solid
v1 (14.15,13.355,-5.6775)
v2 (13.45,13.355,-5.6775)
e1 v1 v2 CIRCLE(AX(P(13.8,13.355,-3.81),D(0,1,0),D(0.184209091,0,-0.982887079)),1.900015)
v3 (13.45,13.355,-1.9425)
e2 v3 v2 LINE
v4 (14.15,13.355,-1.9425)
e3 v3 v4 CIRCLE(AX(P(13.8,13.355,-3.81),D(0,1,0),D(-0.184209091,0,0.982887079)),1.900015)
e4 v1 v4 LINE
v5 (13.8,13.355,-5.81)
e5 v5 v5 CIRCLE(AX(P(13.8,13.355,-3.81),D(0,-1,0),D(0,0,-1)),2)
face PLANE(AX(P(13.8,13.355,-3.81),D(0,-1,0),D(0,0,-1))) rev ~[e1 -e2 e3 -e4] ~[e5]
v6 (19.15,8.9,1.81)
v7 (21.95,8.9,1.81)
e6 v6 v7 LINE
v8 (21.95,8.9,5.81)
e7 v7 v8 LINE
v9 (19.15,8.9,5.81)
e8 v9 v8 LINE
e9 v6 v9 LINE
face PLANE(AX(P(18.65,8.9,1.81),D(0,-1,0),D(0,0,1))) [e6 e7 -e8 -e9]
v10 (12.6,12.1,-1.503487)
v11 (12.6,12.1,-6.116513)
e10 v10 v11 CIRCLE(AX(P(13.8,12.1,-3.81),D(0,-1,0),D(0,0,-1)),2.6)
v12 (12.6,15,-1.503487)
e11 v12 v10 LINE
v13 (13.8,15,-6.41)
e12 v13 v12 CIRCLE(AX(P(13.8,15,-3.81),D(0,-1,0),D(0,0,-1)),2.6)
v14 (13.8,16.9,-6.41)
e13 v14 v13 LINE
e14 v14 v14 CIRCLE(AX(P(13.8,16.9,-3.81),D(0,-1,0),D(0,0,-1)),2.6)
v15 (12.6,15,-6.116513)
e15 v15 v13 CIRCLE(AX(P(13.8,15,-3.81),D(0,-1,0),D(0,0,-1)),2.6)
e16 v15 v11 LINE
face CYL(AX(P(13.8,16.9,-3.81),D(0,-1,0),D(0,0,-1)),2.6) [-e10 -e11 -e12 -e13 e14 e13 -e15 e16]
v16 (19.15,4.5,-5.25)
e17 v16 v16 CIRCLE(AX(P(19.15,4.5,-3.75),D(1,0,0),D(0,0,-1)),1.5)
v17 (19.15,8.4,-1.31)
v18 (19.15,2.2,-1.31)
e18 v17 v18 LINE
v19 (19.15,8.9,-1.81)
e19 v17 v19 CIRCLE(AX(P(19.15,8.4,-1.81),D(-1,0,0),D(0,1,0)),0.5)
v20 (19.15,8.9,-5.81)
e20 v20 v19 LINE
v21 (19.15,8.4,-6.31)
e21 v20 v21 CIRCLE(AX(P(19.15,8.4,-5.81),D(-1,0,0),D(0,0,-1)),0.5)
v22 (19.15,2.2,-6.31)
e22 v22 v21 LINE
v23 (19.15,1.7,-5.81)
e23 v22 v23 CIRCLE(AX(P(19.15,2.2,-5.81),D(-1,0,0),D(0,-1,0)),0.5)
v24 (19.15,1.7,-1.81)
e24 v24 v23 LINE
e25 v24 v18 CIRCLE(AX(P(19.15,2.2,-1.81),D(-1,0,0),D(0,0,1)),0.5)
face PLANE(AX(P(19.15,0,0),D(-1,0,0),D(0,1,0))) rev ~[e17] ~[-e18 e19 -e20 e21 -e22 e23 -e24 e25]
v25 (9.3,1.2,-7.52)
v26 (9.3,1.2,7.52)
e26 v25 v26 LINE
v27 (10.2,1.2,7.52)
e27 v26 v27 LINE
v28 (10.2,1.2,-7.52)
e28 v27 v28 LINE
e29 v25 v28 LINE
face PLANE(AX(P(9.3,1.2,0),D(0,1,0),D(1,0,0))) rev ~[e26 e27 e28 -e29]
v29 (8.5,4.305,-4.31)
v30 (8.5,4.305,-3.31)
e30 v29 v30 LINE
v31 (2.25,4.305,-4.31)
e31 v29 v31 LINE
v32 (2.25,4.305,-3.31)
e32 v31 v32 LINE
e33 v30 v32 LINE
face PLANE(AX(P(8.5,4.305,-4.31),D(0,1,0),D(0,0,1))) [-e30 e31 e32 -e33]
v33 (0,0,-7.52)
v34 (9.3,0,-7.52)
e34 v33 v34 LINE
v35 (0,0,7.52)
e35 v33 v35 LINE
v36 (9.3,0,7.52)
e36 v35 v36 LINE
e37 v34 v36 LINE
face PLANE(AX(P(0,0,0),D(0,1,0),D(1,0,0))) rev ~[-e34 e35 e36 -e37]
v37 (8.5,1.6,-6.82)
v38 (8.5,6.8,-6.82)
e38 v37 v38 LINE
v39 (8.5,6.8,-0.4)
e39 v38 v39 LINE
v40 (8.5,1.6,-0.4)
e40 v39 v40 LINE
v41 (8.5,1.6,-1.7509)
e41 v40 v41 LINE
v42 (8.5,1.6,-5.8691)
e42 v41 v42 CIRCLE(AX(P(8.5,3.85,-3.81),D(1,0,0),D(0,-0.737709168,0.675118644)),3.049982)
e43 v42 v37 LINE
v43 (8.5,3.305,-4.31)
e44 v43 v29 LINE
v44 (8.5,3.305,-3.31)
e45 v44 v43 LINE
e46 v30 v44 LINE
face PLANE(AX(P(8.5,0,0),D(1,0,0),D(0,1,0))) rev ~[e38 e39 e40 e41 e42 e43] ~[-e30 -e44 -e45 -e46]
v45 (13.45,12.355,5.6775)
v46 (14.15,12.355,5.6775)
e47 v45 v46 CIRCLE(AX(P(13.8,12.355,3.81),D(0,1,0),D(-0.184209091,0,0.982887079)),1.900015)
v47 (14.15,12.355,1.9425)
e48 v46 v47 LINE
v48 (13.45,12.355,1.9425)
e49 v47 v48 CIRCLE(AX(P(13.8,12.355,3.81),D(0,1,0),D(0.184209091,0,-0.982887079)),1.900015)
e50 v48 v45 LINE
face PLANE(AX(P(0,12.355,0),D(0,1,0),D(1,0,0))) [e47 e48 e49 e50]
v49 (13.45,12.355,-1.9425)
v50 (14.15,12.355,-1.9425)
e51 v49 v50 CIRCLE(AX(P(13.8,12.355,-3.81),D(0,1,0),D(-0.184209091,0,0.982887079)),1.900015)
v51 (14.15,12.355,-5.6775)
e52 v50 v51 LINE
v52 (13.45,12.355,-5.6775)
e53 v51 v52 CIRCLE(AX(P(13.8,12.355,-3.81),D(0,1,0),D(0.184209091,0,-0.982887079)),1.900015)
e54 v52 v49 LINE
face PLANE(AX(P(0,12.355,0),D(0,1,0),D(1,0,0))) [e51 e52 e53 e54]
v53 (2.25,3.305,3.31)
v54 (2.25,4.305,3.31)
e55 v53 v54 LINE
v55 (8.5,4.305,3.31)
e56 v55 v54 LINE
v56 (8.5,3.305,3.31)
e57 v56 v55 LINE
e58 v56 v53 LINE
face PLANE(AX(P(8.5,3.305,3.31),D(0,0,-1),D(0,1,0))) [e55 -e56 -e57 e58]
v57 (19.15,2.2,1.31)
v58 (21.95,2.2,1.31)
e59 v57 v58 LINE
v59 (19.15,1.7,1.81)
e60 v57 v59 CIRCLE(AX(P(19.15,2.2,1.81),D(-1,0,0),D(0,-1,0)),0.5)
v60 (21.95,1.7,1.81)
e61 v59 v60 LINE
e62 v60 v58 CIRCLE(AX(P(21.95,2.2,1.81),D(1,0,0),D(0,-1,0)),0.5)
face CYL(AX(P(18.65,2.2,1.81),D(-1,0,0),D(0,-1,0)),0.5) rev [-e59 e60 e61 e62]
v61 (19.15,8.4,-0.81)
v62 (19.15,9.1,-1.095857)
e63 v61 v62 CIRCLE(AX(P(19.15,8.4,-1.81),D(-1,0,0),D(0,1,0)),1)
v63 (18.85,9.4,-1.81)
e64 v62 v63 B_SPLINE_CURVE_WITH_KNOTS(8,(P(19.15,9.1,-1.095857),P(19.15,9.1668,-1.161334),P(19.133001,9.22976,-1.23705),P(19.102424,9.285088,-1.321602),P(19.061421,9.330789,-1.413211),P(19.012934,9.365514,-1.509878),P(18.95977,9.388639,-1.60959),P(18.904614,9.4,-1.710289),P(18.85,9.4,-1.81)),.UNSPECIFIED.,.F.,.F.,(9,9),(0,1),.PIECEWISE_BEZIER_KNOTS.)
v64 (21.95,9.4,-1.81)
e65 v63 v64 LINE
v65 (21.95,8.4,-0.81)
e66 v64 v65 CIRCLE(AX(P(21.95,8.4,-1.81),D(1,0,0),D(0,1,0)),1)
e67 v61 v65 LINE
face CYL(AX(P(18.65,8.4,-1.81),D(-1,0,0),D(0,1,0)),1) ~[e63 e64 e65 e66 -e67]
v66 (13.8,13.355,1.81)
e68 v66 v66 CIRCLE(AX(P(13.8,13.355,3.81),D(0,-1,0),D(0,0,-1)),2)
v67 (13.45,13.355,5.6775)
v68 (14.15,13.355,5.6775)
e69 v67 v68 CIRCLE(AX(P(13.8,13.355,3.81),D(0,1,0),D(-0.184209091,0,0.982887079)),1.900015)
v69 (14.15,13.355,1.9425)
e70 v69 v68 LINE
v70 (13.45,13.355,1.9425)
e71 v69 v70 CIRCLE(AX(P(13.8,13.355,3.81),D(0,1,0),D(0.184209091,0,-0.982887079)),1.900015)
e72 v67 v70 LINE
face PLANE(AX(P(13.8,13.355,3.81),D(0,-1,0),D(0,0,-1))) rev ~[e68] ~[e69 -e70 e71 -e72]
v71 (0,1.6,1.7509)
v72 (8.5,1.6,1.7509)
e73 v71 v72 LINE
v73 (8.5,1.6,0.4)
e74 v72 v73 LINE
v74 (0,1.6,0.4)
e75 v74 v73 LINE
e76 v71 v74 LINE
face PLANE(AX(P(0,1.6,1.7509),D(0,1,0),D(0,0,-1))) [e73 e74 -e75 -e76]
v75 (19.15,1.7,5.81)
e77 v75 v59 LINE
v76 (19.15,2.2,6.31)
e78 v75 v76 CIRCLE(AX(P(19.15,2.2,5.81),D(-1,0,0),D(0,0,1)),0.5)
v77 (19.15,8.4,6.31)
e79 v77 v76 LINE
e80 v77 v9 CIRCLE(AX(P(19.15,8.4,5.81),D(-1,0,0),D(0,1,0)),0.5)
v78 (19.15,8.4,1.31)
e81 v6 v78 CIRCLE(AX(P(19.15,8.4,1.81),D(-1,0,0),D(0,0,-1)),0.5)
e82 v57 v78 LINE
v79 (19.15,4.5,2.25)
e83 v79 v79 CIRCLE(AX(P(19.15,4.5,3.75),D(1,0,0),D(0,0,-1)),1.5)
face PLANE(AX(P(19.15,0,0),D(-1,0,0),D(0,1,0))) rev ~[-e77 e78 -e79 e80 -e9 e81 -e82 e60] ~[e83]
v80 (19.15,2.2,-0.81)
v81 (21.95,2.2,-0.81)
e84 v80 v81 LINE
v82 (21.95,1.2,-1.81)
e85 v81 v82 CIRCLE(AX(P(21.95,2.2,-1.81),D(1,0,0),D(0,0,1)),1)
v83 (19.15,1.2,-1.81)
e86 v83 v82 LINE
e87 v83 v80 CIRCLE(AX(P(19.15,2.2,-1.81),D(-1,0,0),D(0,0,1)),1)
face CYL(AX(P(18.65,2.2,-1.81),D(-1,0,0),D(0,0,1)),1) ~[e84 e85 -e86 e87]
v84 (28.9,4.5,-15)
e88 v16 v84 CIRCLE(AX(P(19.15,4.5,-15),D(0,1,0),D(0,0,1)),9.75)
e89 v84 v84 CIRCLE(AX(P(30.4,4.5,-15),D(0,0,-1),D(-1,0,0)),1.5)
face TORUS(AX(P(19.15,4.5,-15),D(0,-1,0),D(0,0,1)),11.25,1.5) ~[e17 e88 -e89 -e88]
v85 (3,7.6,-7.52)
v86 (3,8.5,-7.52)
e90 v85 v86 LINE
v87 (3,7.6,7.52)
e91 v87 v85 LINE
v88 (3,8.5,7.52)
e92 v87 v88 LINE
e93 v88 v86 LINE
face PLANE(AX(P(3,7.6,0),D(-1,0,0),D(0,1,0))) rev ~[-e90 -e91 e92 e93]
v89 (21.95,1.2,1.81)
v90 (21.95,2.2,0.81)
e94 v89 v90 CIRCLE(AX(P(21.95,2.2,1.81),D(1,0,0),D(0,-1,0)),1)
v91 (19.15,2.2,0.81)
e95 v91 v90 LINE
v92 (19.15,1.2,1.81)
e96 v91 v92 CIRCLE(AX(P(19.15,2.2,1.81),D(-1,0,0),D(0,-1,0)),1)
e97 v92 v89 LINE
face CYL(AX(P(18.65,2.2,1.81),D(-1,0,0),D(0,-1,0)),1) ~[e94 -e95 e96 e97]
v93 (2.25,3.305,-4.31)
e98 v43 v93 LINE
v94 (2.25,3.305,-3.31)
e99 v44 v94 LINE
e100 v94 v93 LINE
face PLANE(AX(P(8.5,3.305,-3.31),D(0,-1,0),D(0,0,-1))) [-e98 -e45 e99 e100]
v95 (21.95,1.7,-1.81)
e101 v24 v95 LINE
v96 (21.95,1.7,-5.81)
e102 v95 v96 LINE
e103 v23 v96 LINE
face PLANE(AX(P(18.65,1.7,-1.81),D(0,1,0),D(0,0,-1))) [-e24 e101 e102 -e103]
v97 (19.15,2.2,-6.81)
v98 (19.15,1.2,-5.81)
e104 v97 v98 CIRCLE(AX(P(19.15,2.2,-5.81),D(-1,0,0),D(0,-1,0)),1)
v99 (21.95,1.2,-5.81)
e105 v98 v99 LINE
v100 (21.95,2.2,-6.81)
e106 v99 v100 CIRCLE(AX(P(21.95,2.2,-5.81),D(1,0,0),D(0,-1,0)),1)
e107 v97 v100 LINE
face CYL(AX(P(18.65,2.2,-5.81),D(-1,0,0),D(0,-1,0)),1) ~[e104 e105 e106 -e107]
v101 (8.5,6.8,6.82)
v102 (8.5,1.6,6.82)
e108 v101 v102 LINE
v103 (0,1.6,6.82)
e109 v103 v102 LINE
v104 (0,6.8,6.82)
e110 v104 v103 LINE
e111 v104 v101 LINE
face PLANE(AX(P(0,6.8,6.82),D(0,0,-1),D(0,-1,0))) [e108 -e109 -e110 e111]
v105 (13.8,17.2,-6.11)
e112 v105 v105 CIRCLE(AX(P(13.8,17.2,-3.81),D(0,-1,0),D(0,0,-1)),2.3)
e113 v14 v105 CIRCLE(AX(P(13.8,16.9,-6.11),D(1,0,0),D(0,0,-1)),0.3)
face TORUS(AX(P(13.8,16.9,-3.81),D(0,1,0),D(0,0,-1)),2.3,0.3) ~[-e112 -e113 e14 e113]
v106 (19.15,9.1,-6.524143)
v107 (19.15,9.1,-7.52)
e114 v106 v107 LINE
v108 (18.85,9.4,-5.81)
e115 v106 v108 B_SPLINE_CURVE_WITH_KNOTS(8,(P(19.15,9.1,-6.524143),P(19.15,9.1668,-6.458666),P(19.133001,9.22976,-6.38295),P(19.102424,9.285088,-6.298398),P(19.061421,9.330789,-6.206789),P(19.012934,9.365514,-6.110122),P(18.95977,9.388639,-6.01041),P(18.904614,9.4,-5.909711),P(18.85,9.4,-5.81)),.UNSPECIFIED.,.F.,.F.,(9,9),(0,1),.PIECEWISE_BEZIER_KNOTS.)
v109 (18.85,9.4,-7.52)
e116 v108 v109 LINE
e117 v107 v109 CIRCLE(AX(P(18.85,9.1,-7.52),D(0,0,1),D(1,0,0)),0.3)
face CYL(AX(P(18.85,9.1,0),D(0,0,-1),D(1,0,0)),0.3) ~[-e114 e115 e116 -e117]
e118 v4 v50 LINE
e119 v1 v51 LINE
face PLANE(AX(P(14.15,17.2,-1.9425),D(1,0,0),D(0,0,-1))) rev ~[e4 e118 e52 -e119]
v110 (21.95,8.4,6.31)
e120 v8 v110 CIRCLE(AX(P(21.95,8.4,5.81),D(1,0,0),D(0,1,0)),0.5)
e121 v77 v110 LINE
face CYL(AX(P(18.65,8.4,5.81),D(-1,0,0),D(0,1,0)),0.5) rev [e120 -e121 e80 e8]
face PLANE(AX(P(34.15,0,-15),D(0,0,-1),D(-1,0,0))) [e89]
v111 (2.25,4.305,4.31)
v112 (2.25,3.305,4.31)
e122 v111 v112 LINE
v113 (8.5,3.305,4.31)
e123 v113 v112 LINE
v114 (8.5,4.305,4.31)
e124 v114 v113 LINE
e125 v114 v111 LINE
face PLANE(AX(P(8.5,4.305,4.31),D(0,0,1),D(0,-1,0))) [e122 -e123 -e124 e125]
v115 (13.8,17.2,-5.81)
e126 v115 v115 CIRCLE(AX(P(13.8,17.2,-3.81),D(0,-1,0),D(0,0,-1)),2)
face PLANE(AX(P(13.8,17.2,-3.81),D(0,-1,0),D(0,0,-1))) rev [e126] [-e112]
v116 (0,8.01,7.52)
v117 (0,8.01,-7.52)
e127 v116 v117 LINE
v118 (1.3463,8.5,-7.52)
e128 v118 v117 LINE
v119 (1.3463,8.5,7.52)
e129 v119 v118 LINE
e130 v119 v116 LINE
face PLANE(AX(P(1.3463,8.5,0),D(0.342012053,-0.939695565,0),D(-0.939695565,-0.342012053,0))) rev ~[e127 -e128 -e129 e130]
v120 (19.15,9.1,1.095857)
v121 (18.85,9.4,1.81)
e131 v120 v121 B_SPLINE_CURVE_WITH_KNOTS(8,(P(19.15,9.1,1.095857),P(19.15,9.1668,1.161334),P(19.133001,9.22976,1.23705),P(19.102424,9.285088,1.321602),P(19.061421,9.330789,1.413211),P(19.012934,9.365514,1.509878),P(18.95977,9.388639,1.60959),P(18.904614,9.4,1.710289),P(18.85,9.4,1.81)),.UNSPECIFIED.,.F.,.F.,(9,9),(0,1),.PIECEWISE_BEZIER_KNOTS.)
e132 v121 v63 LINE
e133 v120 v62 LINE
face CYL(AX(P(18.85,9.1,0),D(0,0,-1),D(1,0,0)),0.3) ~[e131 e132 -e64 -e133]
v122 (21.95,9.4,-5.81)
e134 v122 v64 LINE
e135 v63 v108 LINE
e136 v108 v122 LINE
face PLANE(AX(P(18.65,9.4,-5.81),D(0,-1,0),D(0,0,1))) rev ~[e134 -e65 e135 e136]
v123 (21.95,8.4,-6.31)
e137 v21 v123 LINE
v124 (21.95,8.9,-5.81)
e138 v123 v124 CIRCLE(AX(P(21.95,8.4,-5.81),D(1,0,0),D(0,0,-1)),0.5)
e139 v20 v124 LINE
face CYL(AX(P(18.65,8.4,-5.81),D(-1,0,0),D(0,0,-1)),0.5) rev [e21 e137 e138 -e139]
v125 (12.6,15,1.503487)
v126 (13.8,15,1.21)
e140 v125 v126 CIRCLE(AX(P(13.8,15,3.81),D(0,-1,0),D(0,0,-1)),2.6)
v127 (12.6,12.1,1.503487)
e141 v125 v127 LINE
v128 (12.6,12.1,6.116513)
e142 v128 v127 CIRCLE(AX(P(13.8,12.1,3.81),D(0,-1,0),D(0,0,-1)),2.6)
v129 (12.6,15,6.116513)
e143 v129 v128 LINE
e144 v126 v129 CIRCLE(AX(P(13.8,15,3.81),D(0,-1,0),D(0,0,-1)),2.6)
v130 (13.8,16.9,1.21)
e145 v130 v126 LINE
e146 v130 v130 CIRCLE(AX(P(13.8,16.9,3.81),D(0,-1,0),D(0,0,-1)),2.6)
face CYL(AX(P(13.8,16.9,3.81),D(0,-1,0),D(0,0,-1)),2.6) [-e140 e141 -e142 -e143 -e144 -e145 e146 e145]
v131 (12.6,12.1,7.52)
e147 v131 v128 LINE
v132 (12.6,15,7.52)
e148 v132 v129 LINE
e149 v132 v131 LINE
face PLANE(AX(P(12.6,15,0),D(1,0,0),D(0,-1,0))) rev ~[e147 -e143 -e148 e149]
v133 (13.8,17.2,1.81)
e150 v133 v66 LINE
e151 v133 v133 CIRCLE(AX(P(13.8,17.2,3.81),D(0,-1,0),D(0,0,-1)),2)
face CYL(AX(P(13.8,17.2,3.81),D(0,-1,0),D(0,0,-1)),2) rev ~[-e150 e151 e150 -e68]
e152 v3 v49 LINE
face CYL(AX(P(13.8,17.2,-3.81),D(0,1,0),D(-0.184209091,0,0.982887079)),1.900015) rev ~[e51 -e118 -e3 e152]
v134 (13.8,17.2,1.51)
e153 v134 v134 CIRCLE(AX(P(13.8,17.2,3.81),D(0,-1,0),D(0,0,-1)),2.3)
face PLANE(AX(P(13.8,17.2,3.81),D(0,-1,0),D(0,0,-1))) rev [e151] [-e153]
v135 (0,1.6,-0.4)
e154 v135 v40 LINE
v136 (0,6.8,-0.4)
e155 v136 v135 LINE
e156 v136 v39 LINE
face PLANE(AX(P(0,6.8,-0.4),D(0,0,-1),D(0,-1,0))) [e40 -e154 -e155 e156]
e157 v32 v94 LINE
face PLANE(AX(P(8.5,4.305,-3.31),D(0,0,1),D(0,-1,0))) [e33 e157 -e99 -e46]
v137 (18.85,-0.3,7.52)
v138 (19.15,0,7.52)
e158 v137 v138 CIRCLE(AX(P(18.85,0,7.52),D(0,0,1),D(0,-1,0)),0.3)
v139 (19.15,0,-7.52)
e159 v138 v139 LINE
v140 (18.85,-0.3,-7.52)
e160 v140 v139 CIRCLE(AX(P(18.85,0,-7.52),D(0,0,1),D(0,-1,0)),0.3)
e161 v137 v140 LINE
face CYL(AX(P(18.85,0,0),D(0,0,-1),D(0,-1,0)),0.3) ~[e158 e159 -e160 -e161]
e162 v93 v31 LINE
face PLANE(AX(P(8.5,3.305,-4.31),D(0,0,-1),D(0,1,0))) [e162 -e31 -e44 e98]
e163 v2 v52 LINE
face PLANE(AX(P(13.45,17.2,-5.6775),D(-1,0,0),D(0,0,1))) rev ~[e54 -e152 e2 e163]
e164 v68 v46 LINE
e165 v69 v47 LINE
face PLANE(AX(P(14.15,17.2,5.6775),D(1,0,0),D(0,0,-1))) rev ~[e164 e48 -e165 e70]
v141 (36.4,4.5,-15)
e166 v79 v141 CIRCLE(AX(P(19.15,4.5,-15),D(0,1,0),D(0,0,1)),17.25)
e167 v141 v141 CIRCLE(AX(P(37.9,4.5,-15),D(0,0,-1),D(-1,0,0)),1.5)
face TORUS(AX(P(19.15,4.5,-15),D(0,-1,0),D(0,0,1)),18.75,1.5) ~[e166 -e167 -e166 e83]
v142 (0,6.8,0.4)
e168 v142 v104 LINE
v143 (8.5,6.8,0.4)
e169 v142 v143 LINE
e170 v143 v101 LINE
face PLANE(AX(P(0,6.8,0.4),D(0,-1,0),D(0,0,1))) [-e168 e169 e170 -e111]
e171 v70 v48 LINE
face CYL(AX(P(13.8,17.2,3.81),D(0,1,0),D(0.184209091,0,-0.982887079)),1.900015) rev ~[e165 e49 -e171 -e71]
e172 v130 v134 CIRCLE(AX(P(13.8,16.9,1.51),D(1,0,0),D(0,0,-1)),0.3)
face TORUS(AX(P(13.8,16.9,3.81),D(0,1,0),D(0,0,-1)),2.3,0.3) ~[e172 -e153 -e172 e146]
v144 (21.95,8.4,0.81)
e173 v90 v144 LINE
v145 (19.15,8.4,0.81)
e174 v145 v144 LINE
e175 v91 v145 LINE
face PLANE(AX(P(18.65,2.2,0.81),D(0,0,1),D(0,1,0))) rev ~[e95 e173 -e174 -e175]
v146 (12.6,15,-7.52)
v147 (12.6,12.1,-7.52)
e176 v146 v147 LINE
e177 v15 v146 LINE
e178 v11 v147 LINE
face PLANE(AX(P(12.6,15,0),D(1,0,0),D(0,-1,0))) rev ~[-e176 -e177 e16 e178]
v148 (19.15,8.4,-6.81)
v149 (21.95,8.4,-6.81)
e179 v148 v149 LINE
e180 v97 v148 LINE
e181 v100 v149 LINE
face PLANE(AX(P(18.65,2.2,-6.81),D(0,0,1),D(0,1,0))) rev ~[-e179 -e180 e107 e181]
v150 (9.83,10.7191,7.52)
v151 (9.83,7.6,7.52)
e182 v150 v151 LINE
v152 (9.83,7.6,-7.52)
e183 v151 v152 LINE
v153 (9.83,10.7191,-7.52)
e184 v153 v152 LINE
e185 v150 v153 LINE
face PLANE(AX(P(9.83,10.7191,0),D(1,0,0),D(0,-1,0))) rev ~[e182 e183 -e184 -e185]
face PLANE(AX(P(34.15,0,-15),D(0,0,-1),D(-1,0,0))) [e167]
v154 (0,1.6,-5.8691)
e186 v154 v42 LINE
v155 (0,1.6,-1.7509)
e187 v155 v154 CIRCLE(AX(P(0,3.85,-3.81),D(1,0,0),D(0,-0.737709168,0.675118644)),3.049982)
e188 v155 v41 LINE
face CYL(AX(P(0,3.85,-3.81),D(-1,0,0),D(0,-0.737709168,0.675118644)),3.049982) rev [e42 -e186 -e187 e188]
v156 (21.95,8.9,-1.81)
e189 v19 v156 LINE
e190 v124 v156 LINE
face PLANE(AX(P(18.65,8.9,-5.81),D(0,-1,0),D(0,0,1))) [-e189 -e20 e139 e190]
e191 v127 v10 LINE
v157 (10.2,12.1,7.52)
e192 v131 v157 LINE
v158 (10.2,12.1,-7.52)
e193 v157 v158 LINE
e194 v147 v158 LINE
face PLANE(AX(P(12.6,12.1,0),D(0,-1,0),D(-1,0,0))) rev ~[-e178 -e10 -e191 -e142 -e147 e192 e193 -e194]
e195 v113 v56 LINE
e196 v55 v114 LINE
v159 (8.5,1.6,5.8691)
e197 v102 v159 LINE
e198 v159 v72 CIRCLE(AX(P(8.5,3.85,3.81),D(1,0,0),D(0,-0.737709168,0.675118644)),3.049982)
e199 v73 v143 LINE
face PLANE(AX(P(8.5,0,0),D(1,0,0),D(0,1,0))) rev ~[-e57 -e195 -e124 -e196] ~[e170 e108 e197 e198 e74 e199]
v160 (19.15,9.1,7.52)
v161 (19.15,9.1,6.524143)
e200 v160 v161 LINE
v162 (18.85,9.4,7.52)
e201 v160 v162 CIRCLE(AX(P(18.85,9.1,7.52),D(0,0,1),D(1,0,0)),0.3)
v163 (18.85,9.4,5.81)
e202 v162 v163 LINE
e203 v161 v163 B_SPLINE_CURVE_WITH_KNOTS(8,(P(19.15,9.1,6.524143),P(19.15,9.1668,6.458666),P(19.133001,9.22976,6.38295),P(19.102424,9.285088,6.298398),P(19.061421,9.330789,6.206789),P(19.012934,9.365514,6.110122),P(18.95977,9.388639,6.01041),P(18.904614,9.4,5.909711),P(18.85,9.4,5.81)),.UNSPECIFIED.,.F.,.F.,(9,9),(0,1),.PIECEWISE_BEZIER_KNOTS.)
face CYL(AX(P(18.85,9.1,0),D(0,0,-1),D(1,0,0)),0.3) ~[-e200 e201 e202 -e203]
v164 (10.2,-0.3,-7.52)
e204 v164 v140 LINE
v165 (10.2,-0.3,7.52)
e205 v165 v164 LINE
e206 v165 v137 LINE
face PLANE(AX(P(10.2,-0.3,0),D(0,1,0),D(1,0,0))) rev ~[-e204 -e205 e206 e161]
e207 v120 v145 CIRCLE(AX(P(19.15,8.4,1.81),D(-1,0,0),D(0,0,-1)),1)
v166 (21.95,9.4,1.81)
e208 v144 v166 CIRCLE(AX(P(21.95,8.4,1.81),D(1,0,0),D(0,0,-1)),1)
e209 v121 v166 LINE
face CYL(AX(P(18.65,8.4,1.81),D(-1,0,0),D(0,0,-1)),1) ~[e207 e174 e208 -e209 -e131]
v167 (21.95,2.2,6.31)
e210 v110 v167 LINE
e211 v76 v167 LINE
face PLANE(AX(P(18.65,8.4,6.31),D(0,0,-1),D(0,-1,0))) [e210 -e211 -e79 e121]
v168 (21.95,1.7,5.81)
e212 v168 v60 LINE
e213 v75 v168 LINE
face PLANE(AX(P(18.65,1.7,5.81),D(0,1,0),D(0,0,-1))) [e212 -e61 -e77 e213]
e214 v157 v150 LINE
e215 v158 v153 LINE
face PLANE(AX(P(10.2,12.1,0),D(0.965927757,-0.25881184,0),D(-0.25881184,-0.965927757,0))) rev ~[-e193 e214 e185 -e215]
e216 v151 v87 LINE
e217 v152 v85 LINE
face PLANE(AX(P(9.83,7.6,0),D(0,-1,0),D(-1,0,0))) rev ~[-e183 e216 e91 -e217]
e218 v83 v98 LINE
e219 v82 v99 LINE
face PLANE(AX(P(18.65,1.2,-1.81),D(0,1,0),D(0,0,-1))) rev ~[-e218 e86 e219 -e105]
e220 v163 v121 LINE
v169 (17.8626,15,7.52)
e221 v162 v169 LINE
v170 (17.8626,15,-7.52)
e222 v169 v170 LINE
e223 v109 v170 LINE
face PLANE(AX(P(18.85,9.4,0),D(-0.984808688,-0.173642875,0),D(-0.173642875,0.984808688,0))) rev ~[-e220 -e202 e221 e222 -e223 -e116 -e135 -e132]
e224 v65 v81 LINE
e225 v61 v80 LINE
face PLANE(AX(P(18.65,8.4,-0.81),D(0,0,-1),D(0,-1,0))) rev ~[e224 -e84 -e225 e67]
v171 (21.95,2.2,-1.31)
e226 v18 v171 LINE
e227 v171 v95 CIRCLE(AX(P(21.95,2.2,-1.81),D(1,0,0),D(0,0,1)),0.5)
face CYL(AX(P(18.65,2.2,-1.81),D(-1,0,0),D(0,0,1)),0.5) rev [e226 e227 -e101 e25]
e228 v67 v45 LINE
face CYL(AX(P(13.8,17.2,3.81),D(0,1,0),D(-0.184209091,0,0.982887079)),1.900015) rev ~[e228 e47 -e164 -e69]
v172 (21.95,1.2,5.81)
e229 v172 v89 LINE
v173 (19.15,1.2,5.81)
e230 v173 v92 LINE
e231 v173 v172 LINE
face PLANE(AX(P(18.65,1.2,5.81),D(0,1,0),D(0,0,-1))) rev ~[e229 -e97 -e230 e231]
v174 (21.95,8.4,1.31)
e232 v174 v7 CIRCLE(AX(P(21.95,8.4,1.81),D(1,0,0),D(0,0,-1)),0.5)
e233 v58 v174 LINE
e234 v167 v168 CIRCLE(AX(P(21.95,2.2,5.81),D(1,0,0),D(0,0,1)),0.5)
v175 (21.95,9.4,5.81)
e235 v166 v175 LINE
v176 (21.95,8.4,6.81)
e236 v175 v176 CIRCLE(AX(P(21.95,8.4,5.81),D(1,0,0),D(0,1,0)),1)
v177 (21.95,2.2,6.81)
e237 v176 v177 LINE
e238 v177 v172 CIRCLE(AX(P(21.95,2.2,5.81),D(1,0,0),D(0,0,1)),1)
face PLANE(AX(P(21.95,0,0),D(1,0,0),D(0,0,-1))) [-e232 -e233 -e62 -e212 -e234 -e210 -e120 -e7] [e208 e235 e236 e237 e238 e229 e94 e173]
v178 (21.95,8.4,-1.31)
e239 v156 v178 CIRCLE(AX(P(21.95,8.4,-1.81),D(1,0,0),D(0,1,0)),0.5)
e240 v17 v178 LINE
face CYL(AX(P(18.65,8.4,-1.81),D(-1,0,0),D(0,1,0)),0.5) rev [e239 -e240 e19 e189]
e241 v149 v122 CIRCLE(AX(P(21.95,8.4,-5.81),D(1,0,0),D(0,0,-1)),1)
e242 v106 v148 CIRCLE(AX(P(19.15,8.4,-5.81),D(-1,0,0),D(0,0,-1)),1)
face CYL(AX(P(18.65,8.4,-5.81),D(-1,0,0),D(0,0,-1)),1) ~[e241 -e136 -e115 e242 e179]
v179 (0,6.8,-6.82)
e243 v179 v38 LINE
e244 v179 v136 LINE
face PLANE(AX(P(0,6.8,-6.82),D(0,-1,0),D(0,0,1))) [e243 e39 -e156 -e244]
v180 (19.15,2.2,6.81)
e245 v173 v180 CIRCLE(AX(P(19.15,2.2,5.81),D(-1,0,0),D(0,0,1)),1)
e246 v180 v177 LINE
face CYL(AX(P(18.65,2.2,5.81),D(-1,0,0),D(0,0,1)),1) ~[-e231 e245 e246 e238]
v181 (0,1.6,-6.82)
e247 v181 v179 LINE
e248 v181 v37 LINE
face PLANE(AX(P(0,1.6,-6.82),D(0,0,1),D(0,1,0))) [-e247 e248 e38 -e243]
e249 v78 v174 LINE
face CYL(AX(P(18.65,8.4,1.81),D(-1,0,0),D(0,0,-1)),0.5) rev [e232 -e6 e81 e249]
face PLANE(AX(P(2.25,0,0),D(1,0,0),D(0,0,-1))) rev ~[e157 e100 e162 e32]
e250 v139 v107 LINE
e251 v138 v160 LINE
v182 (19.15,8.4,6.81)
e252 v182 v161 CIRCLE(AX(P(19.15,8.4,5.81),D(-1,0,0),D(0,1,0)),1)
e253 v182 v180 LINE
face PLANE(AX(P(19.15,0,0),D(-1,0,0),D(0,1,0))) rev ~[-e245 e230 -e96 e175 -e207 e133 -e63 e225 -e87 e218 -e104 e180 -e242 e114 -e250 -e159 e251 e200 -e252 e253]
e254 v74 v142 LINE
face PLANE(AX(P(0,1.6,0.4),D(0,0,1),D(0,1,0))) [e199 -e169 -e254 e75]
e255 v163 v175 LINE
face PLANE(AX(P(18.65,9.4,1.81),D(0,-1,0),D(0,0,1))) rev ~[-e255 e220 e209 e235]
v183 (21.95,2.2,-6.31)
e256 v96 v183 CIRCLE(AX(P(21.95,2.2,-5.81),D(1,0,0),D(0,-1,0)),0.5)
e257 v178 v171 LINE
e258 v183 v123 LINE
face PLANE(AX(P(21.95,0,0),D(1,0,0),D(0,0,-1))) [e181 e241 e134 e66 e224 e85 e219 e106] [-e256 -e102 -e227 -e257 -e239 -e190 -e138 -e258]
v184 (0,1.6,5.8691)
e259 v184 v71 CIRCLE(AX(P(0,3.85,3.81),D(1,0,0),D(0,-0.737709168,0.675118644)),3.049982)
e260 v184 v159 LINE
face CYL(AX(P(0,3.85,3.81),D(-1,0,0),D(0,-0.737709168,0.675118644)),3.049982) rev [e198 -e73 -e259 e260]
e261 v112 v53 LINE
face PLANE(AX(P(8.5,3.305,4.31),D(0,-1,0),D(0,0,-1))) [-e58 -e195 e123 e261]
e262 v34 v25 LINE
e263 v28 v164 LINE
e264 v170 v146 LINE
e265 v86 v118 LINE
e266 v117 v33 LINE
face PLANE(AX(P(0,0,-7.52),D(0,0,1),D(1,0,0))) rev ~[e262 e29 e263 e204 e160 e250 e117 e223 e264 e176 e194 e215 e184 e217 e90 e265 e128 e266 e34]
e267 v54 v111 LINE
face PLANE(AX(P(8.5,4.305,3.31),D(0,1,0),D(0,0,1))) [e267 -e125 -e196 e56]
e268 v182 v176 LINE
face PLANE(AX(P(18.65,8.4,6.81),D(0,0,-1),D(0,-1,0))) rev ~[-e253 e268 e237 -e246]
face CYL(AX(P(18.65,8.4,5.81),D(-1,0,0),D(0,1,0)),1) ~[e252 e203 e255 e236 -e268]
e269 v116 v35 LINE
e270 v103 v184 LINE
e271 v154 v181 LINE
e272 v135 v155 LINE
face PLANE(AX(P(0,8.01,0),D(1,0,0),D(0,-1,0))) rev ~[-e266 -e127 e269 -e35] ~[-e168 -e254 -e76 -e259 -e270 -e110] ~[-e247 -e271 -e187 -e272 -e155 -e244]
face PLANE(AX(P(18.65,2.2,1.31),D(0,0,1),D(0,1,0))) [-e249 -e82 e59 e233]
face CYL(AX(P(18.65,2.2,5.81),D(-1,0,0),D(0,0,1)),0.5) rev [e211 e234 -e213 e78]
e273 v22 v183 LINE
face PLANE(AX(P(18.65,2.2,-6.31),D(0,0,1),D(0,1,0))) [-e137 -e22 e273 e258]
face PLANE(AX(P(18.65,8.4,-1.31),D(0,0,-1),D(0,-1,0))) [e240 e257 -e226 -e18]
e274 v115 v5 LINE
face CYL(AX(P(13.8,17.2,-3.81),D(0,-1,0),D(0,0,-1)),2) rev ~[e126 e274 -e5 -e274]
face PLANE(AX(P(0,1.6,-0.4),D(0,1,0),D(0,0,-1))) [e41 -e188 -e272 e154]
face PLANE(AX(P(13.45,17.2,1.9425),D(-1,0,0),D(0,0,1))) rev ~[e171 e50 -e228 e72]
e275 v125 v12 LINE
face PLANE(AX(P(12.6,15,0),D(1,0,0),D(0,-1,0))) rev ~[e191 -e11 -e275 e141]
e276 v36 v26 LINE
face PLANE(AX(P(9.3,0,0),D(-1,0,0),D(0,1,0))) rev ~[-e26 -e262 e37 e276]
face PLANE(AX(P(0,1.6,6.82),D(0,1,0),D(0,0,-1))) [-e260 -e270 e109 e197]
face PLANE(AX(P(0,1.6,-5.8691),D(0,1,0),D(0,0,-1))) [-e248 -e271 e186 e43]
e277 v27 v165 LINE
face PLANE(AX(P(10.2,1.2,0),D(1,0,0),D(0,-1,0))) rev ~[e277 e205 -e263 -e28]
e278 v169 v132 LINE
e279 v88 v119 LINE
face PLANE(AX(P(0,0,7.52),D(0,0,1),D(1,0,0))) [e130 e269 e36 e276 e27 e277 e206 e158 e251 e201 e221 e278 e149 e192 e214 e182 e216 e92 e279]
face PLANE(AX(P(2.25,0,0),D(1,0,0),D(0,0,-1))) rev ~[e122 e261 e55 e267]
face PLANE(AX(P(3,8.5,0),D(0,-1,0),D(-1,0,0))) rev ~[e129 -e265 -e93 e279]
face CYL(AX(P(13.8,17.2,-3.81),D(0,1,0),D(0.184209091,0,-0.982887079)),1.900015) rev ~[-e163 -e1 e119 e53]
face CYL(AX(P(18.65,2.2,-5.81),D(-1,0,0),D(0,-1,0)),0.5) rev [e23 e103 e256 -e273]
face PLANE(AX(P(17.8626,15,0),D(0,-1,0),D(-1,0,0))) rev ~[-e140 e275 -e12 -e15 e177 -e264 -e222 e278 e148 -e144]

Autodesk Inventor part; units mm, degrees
sketch "Sketch_1" plane through (0, 0, 0) normal (0, 0, 1) x (1, 0, 0)
  line L0 (0, 0) -> (9.3, 0)
  line L1 (9.3, 0) -> (9.3, 1.2)
  line L2 (9.3, 1.2) -> (10.2, 1.2)
  line L3 (10.2, 1.2) -> (10.2, -0.3)
  line L4 (10.2, -0.3) -> (18.85, -0.3)
  arc A0 (18.85, -0.3) -> (19.15, 0) centre (18.85, 0) ccw
  line L5 (19.15, 0) -> (19.15, 9.1)
  arc A1 (19.15, 9.1) -> (18.85, 9.4) centre (18.85, 9.1) ccw
  line L6 (18.85, 9.4) -> (17.8626, 15)
  line L7 (17.8626, 15) -> (12.6, 15)
  line L8 (12.6, 15) -> (12.6, 12.1)
  line L9 (12.6, 12.1) -> (10.2, 12.1)
  line L10 (10.2, 12.1) -> (9.83, 10.7191)
  line L11 (9.83, 10.7191) -> (9.83, 7.6)
  line L12 (9.83, 7.6) -> (3, 7.6)
  line L13 (3, 7.6) -> (3, 8.5)
  line L14 (3, 8.5) -> (1.3463, 8.5)
  line L15 (1.3463, 8.5) -> (0, 8.01)
  line L16 (0, 8.01) -> (0, 0)
extrude "Extrusion1" add sketch "Sketch_1" along normal mid plane 15.04
sketch "Sketch_2" plane through (13.8, 0, 0) normal (1, 0, 0) x (0, 0, -1)
  line L0 (3.81, 12.1) -> (3.81, 17.2)
  line L1 (3.81, 17.2) -> (6.11, 17.2)
  arc A0 (6.41, 16.9) -> (6.11, 17.2) centre (6.11, 16.9) ccw
  line L2 (6.41, 16.9) -> (6.41, 12.1)
  line L3 (6.41, 12.1) -> (3.81, 12.1)
  line L4 (3.81, 12.1) -> (3.81, 17.2)
revolve "Revolution1" add sketch "Sketch_2" angle 360 about axis through (13.8, 12.1, -3.81) along (0, -1, 0)
sketch "Sketch_3" plane through (13.8, 0, 0) normal (1, 0, 0) x (0, 0, -1)
  line L0 (-3.81, 12.1) -> (-3.81, 17.2)
  line L1 (-3.81, 17.2) -> (-1.51, 17.2)
  arc A0 (-1.21, 16.9) -> (-1.51, 17.2) centre (-1.51, 16.9) ccw
  line L2 (-1.21, 16.9) -> (-1.21, 12.1)
  line L3 (-1.21, 12.1) -> (-3.81, 12.1)
  line L4 (-3.81, 12.1) -> (-3.81, 17.2)
revolve "Revolution2" add sketch "Sketch_3" angle 360 about axis through (13.8, 12.1, 3.81) along (0, -1, 0)
sketch "Sketch_4" plane through (13.8, 0, 0) normal (1, 0, 0) x (0, 0, -1)
  line L0 (3.81, 13.355) -> (3.81, 17.2)
  line L1 (3.81, 17.2) -> (5.81, 17.2)
  line L2 (5.81, 17.2) -> (5.81, 13.355)
  line L3 (5.81, 13.355) -> (3.81, 13.355)
  line L4 (3.81, 13.355) -> (3.81, 17.2)
revolve "Revolution3" cut sketch "Sketch_4" angle 360 about axis through (13.8, 13.355, -3.81) along (0, -1, 0)
sketch "Sketch_5" plane through (13.8, 0, 0) normal (1, 0, 0) x (0, 0, -1)
  line L0 (-3.81, 13.355) -> (-3.81, 17.2)
  line L1 (-3.81, 17.2) -> (-1.81, 17.2)
  line L2 (-1.81, 17.2) -> (-1.81, 13.355)
  line L3 (-1.81, 13.355) -> (-3.81, 13.355)
  line L4 (-3.81, 13.355) -> (-3.81, 17.2)
revolve "Revolution4" cut sketch "Sketch_5" angle 360 about axis through (13.8, 13.355, 3.81) along (0, -1, 0)
sketch "Sketch_6" plane through (0, 17.2, 0) normal (0, 1, 0) x (1, 0, 0)
  line L0 (13.45, 5.6775) -> (13.45, 1.9425)
  arc A0 (13.45, 1.9425) -> (14.15, 1.9425) centre (13.8, 3.81) ccw
  line L1 (14.15, 1.9425) -> (14.15, 5.6775)
  arc A1 (14.15, 5.6775) -> (13.45, 5.6775) centre (13.8, 3.81) ccw
extrude "Extrusion2" cut sketch "Sketch_6" against normal blind 4.845
sketch "Sketch_7" plane through (0, 17.2, 0) normal (0, 1, 0) x (1, 0, 0)
  line L0 (13.45, -1.9425) -> (13.45, -5.6775)
  arc A0 (13.45, -5.6775) -> (14.15, -5.6775) centre (13.8, -3.81) ccw
  line L1 (14.15, -5.6775) -> (14.15, -1.9425)
  arc A1 (14.15, -1.9425) -> (13.45, -1.9425) centre (13.8, -3.81) ccw
extrude "Extrusion3" cut sketch "Sketch_7" against normal blind 4.845
sketch "Sketch_8" plane through (18.65, 0, 0) normal (1, 0, 0) x (0, 0, -1)
  arc A0 (-6.81, 2.2) -> (-5.81, 1.2) centre (-5.81, 2.2) ccw
  line L0 (-5.81, 1.2) -> (-1.81, 1.2)
  arc A1 (-1.81, 1.2) -> (-0.81, 2.2) centre (-1.81, 2.2) ccw
  line L1 (-0.81, 2.2) -> (-0.81, 8.4)
  arc A2 (-0.81, 8.4) -> (-1.81, 9.4) centre (-1.81, 8.4) ccw
  line L2 (-1.81, 9.4) -> (-5.81, 9.4)
  arc A3 (-5.81, 9.4) -> (-6.81, 8.4) centre (-5.81, 8.4) ccw
  line L3 (-6.81, 8.4) -> (-6.81, 2.2)
  arc A4 (-6.31, 2.2) -> (-5.81, 1.7) centre (-5.81, 2.2) ccw
  line L4 (-5.81, 1.7) -> (-1.81, 1.7)
  arc A5 (-1.81, 1.7) -> (-1.31, 2.2) centre (-1.81, 2.2) ccw
  line L5 (-1.31, 2.2) -> (-1.31, 8.4)
  arc A6 (-1.31, 8.4) -> (-1.81, 8.9) centre (-1.81, 8.4) ccw
  line L6 (-1.81, 8.9) -> (-5.81, 8.9)
  arc A7 (-5.81, 8.9) -> (-6.31, 8.4) centre (-5.81, 8.4) ccw
  line L7 (-6.31, 8.4) -> (-6.31, 2.2)
extrude "Extrusion4" add sketch "Sketch_8" along normal blind 3.3
sketch "Sketch_9" plane through (18.65, 0, 0) normal (1, 0, 0) x (0, 0, -1)
  arc A0 (0.81, 2.2) -> (1.81, 1.2) centre (1.81, 2.2) ccw
  line L0 (1.81, 1.2) -> (5.81, 1.2)
  arc A1 (5.81, 1.2) -> (6.81, 2.2) centre (5.81, 2.2) ccw
  line L1 (6.81, 2.2) -> (6.81, 8.4)
  arc A2 (6.81, 8.4) -> (5.81, 9.4) centre (5.81, 8.4) ccw
  line L2 (5.81, 9.4) -> (1.81, 9.4)
  arc A3 (1.81, 9.4) -> (0.81, 8.4) centre (1.81, 8.4) ccw
  line L3 (0.81, 8.4) -> (0.81, 2.2)
  arc A4 (1.31, 2.2) -> (1.81, 1.7) centre (1.81, 2.2) ccw
  line L4 (1.81, 1.7) -> (5.81, 1.7)
  arc A5 (5.81, 1.7) -> (6.31, 2.2) centre (5.81, 2.2) ccw
  line L5 (6.31, 2.2) -> (6.31, 8.4)
  arc A6 (6.31, 8.4) -> (5.81, 8.9) centre (5.81, 8.4) ccw
  line L6 (5.81, 8.9) -> (1.81, 8.9)
  arc A7 (1.81, 8.9) -> (1.31, 8.4) centre (1.81, 8.4) ccw
  line L7 (1.31, 8.4) -> (1.31, 2.2)
extrude "Extrusion5" add sketch "Sketch_9" along normal blind 3.3
sketch "Sketch_10" plane through (0, 0, 0) normal (1, 0, 0) x (0, 1, 0)
  line L0 (6.8, 6.82) -> (1.6, 6.82)
  line L1 (1.6, 6.82) -> (1.6, 5.8691)
  arc A0 (1.6, 5.8691) -> (1.6, 1.7509) centre (3.85, 3.81) ccw
  line L2 (1.6, 1.7509) -> (1.6, 0.4)
  line L3 (1.6, 0.4) -> (6.8, 0.4)
  line L4 (6.8, 0.4) -> (6.8, 6.82)
extrude "Extrusion6" cut sketch "Sketch_10" along normal blind 8.5
sketch "Sketch_11" plane through (0, 0, 0) normal (1, 0, 0) x (0, 1, 0)
  line L0 (6.8, -0.4) -> (1.6, -0.4)
  line L1 (1.6, -0.4) -> (1.6, -1.7509)
  arc A0 (1.6, -1.7509) -> (1.6, -5.8691) centre (3.85, -3.81) ccw
  line L2 (1.6, -5.8691) -> (1.6, -6.82)
  line L3 (1.6, -6.82) -> (6.8, -6.82)
  line L4 (6.8, -6.82) -> (6.8, -0.4)
extrude "Extrusion7" cut sketch "Sketch_11" along normal blind 8.5
sketch "Sketch_12" plane through (8.5, 0, 0) normal (1, 0, 0) x (0, 0, -1)
  line L0 (-4.31, 4.305) -> (-4.31, 3.305)
  line L1 (-4.31, 3.305) -> (-3.31, 3.305)
  line L2 (-3.31, 3.305) -> (-3.31, 4.305)
  line L3 (-3.31, 4.305) -> (-4.31, 4.305)
extrude "Extrusion8" add sketch "Sketch_12" against normal blind 6.25
sketch "Sketch_13" plane through (8.5, 0, 0) normal (1, 0, 0) x (0, 0, -1)
  line L0 (3.31, 4.305) -> (3.31, 3.305)
  line L1 (3.31, 3.305) -> (4.31, 3.305)
  line L2 (4.31, 3.305) -> (4.31, 4.305)
  line L3 (4.31, 4.305) -> (3.31, 4.305)
extrude "Extrusion9" add sketch "Sketch_13" against normal blind 6.25
sketch "Sketch_14" plane through (19.15, 0, 0) normal (1, 0, 0) x (0, 0, -1)
  line L0 (15, 6) -> (15, 3)
  circle A0 centre (-3.75, 4.5) radius 1.5
revolve "Revolution5" add sketch "Sketch_14" angle 90 about axis through (19.15, 6, -15) along (0, 1, 0)
sketch "Sketch_15" plane through (19.15, 0, 0) normal (1, 0, 0) x (0, 0, -1)
  line L0 (15, 6) -> (15, 3)
  circle A0 centre (3.75, 4.5) radius 1.5
revolve "Revolution6" add sketch "Sketch_15" angle 90 about axis through (19.15, 6, -15) along (0, 1, 0)
ref_plane "ANBAU_XY" through (0, 3.805, 3.81) normal (1, 0, 0) x (0, 0, -1)
ref_plane "ANBAU_YZ" through (0, 3.805, 3.81) normal (0, 0, -1) x (0, 1, 0)
ref_plane "ANBAU_ZX" through (0, 3.805, 3.81) normal (0, 1, 0) x (1, 0, 0)
properties part number "4021832 2GD-1RR7.62-CLP-CBL"
